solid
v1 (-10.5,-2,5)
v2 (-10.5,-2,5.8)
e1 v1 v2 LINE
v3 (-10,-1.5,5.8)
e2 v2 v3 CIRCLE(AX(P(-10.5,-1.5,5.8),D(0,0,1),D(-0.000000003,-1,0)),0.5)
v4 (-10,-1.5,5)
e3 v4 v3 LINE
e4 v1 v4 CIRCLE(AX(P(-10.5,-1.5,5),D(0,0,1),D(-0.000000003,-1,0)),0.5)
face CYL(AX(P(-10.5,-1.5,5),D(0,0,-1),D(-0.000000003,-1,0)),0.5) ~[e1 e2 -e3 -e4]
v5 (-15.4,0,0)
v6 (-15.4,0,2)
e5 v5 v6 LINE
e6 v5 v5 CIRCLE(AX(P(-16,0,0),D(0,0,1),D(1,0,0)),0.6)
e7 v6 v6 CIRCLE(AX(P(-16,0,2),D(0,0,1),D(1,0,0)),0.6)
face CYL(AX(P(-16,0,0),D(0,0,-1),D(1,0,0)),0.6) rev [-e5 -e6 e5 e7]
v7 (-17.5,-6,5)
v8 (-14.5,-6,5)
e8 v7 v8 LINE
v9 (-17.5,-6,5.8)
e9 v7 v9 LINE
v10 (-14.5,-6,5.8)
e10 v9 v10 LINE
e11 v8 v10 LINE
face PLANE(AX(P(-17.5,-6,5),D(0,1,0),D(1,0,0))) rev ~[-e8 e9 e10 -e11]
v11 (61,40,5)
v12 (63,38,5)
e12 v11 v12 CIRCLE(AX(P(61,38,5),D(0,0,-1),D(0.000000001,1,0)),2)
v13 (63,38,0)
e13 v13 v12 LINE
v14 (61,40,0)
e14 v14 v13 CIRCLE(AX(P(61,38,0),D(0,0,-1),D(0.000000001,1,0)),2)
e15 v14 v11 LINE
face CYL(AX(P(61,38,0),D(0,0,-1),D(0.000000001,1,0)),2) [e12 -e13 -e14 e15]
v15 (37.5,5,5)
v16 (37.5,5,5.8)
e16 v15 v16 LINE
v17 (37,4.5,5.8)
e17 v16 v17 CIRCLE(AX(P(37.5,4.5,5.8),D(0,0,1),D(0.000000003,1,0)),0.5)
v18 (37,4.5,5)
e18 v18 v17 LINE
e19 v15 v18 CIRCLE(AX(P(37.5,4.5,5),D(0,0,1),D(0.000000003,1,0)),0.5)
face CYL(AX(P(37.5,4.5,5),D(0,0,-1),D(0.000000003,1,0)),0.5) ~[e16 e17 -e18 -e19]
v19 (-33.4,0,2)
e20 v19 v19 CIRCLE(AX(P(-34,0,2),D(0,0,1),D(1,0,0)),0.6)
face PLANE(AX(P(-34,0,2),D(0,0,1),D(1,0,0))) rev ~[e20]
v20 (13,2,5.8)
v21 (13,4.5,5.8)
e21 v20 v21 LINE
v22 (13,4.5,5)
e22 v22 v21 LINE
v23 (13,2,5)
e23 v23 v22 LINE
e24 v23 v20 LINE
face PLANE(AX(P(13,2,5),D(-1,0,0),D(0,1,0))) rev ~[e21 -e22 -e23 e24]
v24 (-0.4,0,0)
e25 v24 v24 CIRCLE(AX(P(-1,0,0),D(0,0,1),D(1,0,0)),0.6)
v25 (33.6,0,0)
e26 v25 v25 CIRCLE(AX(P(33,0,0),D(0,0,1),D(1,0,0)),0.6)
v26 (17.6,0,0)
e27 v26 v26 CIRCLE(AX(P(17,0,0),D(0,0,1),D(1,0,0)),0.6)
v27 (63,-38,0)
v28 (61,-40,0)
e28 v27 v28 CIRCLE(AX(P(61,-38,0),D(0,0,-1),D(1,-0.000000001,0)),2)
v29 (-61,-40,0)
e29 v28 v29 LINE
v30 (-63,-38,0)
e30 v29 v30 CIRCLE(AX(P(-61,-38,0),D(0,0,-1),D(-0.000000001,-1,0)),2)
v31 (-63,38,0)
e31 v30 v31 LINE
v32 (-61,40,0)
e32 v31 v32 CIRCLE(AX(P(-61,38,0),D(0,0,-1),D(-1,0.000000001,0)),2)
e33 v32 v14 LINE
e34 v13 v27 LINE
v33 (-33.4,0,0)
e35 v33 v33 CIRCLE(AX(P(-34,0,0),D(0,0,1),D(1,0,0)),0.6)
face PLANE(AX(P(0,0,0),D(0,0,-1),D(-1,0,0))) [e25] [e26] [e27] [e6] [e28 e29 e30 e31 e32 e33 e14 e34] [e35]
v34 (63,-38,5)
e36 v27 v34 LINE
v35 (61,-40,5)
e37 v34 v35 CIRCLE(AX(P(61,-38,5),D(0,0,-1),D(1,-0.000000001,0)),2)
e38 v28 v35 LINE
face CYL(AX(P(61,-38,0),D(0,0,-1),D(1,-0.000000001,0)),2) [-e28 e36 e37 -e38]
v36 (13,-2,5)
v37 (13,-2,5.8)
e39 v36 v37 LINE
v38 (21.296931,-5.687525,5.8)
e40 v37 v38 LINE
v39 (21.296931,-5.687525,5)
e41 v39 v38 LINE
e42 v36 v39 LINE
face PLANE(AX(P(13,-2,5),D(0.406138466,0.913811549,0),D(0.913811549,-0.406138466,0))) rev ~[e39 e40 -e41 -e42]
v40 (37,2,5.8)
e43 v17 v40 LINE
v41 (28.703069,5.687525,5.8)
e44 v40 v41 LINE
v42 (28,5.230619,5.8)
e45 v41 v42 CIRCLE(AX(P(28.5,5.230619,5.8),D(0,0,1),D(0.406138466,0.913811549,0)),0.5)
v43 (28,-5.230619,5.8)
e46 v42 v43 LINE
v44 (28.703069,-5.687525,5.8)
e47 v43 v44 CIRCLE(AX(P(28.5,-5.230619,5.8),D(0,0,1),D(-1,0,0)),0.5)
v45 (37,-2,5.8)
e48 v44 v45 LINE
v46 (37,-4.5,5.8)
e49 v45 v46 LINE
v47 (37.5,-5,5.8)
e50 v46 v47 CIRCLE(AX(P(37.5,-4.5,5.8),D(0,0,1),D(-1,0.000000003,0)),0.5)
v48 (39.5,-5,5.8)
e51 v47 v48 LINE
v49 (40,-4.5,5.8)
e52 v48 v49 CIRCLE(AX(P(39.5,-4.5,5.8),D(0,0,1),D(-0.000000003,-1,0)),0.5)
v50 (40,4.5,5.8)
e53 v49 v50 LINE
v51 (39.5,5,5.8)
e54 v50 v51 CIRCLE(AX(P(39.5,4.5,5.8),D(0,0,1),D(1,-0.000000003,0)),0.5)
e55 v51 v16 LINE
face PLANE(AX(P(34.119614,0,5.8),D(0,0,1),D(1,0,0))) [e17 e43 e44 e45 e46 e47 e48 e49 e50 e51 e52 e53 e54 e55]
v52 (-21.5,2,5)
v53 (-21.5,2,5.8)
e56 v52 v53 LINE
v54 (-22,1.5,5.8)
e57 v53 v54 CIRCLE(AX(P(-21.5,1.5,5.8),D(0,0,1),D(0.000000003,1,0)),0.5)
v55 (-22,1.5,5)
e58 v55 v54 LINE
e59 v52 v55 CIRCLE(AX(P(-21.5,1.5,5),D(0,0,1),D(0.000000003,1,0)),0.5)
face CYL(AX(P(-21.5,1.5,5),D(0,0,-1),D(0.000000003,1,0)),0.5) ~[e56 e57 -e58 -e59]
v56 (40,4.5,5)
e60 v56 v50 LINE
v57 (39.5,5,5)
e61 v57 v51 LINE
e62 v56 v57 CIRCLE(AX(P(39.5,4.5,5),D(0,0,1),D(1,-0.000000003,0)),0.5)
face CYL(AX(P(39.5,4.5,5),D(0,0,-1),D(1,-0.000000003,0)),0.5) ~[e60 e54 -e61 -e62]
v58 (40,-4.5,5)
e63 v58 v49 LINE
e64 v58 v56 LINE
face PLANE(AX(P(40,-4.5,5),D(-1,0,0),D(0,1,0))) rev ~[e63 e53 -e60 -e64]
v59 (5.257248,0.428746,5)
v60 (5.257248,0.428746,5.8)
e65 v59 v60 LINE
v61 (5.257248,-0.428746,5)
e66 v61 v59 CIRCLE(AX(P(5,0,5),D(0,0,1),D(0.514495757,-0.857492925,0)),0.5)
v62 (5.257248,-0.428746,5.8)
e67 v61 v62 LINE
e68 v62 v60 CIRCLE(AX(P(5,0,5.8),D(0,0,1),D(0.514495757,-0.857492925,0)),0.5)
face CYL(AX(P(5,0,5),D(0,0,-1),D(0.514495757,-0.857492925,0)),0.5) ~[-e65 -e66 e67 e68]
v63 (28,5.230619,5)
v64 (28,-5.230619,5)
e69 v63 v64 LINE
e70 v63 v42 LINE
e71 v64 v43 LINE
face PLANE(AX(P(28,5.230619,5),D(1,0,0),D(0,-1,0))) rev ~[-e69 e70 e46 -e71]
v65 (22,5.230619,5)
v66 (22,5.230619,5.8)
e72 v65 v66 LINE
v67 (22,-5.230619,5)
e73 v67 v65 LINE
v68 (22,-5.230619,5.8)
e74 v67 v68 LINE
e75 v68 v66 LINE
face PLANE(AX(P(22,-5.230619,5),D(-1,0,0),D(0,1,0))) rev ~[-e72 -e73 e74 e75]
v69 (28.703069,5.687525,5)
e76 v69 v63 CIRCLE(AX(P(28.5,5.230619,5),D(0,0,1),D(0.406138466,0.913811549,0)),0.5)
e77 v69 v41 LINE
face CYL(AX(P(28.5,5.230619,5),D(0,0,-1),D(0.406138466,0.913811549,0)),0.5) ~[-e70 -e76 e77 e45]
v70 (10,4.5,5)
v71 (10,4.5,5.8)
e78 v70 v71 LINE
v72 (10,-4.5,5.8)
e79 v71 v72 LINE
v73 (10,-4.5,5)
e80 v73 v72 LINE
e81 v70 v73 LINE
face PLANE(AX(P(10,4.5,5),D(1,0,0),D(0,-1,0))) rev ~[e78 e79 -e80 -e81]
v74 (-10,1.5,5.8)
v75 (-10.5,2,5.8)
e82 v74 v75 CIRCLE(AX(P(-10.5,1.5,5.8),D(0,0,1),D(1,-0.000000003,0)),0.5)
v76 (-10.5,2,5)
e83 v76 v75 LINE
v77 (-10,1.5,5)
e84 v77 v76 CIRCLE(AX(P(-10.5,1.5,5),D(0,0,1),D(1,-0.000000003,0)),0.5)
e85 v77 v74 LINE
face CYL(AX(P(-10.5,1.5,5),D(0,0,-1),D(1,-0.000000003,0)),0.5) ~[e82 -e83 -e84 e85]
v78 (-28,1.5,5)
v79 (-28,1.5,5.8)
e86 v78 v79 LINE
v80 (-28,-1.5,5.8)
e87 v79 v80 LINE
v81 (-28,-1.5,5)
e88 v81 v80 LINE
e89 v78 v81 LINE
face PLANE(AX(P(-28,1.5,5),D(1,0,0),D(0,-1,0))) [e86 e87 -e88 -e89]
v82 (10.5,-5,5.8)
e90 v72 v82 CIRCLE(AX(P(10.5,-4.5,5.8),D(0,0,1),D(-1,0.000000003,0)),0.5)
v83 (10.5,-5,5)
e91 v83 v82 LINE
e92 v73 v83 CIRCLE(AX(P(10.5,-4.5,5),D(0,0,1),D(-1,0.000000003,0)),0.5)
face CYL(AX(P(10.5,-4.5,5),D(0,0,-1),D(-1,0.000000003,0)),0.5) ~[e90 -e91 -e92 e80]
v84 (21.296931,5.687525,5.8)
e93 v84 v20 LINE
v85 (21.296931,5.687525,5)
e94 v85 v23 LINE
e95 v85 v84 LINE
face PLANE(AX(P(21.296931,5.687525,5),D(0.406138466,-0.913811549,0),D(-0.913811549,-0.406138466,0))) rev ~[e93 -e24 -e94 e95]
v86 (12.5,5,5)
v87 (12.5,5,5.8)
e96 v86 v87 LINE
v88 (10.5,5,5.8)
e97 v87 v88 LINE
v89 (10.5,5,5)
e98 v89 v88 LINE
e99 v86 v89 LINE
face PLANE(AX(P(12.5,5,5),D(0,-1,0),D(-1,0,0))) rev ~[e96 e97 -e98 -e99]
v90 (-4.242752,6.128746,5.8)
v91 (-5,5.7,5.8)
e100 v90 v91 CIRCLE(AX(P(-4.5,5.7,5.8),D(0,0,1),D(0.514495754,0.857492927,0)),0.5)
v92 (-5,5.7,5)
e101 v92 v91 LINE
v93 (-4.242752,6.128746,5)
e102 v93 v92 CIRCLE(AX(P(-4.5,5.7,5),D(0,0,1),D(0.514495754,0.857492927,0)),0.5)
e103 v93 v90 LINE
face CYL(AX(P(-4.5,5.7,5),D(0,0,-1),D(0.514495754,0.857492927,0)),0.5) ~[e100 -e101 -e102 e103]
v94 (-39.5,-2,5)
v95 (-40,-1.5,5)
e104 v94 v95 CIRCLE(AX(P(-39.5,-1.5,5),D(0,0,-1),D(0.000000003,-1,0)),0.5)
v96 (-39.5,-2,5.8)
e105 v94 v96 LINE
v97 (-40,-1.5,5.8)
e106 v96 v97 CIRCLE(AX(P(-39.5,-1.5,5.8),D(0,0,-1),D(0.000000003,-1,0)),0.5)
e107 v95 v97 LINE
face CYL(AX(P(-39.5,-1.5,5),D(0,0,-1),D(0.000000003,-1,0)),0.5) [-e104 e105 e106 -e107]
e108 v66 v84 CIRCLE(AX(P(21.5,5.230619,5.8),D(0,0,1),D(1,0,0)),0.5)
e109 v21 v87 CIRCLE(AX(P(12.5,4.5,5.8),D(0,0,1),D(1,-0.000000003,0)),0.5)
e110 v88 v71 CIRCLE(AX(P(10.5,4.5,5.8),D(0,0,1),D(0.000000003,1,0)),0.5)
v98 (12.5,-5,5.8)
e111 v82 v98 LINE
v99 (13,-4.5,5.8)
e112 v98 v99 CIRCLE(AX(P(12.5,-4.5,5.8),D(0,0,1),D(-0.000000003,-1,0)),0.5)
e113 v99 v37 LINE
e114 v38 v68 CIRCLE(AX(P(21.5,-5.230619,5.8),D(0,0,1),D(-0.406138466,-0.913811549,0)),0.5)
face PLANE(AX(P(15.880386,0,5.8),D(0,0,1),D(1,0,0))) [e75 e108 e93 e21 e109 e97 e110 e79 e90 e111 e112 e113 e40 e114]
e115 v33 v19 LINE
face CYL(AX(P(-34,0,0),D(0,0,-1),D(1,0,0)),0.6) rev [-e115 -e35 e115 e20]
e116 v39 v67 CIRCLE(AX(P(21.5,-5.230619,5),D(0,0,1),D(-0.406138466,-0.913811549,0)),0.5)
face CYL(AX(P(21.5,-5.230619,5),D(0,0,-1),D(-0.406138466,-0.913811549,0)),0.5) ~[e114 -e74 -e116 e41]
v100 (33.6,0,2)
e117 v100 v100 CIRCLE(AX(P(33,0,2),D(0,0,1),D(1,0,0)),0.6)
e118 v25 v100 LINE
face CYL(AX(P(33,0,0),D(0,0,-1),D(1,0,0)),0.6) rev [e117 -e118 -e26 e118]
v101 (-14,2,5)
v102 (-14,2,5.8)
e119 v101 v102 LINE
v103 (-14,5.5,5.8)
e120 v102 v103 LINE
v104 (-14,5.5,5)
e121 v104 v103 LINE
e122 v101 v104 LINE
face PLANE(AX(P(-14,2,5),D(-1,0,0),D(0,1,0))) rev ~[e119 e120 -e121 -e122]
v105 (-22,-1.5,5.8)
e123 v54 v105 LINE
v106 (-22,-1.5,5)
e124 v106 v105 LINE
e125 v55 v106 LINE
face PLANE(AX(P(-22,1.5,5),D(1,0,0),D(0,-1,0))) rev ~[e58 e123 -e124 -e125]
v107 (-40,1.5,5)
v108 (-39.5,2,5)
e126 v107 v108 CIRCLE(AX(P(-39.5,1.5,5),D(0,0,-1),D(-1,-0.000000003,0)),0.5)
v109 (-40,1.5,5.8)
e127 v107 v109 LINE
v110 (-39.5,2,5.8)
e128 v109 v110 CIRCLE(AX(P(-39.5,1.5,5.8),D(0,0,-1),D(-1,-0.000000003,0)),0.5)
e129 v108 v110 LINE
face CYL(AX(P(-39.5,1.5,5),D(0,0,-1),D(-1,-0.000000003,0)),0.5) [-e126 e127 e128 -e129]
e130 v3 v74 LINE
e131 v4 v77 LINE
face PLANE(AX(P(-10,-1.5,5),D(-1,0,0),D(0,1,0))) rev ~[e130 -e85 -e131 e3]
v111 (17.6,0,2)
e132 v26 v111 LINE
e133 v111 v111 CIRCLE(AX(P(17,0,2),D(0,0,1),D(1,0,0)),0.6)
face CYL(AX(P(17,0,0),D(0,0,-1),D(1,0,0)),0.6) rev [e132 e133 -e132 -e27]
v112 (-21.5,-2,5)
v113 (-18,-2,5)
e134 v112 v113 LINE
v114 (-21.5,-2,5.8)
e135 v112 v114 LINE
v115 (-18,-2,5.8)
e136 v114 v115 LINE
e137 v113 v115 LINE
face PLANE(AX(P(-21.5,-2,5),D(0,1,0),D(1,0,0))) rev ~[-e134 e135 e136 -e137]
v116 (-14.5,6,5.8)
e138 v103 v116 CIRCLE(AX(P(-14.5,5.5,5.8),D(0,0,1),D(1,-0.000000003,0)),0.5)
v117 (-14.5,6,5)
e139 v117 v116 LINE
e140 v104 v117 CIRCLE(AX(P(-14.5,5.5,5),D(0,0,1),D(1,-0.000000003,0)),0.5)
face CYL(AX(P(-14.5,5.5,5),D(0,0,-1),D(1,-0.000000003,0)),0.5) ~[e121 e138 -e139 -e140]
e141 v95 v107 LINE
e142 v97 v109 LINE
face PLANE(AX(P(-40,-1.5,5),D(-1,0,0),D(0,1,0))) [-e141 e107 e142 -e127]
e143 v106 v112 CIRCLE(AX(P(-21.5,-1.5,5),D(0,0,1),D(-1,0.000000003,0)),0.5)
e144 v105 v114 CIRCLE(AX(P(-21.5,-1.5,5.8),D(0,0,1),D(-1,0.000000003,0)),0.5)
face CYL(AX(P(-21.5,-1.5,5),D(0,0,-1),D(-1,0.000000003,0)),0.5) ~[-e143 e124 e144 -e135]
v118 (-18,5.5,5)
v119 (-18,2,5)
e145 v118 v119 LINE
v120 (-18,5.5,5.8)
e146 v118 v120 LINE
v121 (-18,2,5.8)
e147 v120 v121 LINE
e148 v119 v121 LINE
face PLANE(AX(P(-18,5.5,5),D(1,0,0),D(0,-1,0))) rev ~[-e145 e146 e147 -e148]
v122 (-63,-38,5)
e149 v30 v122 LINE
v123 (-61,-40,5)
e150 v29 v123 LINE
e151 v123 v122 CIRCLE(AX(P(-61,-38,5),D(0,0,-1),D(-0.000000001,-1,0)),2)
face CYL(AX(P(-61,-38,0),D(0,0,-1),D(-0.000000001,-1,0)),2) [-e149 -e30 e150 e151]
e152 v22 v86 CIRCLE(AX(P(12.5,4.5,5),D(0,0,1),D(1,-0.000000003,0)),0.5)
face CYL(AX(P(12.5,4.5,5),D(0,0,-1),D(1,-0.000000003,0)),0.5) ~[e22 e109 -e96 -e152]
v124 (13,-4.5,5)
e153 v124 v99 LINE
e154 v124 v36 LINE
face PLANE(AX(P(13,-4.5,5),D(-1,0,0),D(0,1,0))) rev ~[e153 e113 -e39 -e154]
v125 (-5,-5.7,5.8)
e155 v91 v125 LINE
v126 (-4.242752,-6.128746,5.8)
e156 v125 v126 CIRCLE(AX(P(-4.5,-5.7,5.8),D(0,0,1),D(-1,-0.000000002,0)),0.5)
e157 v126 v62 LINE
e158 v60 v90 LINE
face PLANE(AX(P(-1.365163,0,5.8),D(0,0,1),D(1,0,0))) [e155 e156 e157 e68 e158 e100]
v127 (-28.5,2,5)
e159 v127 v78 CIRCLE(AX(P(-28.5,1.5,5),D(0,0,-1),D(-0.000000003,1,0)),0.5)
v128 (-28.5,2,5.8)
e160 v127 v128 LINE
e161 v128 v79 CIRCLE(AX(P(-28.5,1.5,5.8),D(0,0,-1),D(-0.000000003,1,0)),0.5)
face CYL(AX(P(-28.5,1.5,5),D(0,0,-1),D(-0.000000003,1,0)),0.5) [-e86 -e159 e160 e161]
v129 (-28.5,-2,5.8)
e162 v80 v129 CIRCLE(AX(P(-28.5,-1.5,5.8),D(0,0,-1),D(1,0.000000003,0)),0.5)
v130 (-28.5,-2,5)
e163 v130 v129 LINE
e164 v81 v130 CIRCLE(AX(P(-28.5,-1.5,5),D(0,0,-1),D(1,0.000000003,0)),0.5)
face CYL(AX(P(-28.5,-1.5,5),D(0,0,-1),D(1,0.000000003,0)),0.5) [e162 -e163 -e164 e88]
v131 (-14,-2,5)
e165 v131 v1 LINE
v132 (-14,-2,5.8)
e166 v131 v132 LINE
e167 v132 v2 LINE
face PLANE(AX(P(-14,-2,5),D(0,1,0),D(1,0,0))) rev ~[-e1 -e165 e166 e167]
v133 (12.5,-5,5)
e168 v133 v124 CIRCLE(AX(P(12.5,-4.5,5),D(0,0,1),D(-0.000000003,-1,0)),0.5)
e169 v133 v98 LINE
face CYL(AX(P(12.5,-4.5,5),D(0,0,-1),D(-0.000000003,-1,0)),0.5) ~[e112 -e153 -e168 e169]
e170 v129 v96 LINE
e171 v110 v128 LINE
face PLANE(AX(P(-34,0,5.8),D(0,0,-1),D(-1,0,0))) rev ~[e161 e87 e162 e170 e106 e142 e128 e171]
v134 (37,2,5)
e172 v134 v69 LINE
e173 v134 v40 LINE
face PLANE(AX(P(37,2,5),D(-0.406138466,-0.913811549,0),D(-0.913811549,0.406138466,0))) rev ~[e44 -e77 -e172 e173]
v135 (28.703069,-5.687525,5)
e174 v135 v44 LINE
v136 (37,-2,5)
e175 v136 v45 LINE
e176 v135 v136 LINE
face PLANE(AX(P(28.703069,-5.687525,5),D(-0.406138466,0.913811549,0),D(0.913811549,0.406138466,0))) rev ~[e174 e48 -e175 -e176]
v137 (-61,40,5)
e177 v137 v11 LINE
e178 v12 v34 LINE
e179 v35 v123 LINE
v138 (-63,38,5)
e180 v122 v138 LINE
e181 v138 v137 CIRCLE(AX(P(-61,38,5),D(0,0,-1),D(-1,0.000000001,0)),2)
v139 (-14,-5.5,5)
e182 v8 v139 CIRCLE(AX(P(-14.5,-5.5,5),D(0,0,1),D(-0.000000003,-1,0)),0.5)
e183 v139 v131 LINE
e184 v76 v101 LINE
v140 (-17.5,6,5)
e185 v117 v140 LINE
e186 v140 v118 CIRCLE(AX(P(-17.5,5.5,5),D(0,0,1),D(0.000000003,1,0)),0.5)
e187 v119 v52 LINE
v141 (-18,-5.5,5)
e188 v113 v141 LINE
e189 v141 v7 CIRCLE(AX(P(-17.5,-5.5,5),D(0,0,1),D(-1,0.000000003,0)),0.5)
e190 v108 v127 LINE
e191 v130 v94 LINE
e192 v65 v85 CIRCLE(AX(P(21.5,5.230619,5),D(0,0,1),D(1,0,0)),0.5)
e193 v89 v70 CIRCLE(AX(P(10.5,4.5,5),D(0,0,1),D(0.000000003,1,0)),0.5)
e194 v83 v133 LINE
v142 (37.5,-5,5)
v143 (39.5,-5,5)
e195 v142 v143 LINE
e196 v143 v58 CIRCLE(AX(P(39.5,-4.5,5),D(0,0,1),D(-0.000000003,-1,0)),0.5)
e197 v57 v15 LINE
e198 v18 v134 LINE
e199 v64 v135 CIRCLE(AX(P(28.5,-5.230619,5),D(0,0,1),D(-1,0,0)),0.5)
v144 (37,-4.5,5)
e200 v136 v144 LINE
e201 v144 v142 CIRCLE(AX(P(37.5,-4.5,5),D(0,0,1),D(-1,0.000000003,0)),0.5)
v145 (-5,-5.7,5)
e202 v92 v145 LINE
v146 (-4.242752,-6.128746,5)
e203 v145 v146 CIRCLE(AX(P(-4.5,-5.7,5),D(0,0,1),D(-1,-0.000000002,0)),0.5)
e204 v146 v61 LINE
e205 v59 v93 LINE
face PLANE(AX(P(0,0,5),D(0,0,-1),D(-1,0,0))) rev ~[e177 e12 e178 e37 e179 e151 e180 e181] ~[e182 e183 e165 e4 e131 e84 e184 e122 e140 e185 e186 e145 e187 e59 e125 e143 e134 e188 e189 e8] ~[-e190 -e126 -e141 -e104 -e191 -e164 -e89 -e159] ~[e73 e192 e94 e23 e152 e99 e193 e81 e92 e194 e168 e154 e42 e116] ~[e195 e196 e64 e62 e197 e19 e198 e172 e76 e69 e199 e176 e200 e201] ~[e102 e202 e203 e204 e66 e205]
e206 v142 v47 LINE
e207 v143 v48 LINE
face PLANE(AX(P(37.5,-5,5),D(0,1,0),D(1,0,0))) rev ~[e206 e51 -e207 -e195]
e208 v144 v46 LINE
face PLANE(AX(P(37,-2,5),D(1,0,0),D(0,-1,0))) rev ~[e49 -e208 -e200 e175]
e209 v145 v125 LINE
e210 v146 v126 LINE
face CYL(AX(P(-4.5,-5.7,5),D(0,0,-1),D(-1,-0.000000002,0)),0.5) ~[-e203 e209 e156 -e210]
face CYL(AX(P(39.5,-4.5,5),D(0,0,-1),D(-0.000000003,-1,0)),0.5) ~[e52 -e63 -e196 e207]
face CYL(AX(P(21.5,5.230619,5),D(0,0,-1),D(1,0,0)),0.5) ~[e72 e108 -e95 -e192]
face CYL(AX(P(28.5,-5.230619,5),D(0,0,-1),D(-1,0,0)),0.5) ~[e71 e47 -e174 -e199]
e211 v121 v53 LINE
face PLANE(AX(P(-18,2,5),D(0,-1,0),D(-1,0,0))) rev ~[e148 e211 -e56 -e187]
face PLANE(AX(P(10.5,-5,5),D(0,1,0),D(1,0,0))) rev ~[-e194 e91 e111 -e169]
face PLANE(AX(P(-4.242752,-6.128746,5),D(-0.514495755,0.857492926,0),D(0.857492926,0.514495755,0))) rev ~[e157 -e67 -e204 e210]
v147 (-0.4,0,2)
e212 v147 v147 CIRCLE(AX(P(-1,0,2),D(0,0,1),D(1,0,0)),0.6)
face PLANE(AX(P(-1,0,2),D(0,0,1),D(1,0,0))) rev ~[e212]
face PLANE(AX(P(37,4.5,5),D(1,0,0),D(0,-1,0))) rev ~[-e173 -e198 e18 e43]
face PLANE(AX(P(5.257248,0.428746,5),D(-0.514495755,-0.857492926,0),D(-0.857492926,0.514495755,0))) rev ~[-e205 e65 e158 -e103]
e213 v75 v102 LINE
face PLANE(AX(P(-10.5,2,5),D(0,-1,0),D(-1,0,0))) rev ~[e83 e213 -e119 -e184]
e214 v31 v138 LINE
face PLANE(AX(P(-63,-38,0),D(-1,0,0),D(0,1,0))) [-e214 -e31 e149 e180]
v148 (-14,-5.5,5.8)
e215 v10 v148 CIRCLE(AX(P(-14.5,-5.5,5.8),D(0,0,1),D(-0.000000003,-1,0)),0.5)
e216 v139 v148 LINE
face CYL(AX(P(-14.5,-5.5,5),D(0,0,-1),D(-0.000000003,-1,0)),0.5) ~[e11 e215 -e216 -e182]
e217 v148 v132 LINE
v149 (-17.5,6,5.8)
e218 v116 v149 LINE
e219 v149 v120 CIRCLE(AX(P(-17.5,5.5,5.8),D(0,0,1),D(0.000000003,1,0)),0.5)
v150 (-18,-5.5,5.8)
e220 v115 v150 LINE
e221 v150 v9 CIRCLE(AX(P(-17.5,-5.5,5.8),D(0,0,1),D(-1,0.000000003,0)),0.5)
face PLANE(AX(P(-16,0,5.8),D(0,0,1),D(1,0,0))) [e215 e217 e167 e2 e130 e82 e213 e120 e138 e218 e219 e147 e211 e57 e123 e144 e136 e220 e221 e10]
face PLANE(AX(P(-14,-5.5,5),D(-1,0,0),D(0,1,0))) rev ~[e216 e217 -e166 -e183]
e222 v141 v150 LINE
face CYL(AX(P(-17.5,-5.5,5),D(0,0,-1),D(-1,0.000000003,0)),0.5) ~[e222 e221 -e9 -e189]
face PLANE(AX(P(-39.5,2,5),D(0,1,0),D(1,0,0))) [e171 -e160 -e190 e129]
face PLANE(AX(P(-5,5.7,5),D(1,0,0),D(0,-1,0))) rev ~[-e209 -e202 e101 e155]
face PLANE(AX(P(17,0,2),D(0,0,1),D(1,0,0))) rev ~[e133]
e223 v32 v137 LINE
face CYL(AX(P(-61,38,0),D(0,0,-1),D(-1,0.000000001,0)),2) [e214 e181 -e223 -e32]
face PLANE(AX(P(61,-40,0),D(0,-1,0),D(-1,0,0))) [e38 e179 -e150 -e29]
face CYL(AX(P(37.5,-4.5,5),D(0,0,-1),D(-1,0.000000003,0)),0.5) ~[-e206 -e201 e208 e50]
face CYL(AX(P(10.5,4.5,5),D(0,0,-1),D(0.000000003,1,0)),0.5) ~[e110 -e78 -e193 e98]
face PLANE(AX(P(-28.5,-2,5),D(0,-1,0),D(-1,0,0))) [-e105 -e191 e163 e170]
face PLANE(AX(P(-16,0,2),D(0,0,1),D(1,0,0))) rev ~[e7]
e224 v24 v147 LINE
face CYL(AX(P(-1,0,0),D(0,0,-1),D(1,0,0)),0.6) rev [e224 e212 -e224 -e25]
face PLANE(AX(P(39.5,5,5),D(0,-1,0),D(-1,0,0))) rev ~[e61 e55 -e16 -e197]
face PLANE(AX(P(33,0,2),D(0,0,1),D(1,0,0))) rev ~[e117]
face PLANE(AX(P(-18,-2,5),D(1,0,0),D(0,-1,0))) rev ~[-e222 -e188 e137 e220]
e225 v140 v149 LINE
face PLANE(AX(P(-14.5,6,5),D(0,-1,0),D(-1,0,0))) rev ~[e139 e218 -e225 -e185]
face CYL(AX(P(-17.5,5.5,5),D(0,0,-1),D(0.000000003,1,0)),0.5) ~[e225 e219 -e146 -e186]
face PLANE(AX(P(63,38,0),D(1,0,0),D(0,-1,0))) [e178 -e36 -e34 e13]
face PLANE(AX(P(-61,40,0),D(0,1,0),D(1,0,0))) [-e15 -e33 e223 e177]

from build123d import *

# Parameters (mm, degrees)
BOSS_EXTRUDE1_DEPTH = 5
BOSS_EXTRUDE2_DEPTH = 0.8
SKETCH22_R          = 0.6
CUT_EXTRUDE1_DEPTH  = 2


with BuildPart() as part:
    # Sketch1 → Boss-Extrude1 (new body)
    with BuildSketch(Plane.XY):
        with BuildLine():
            Line((-61, 40), (61, 40))
            ThreePointArc((61, 40), (62.414213562, 39.414213562), (63, 38))
            Line((63, 38), (63, -38))
            ThreePointArc((63, -38), (62.414213562, -39.414213562), (61, -40))
            Line((61, -40), (-61, -40))
            ThreePointArc((-61, -40), (-62.414213562, -39.414213562), (-63, -38))
            Line((-63, -38), (-63, 38))
            ThreePointArc((-63, 38), (-62.414213562, 39.414213562), (-61, 40))
        make_face()
    extrude(amount=BOSS_EXTRUDE1_DEPTH)

    # Sketch19 → Boss-Extrude2 (add)
    with BuildSketch(Plane.XY.offset(5)):
        with BuildLine():
            Line((-5, 5.7), (-5, -5.7))
            ThreePointArc((-5, -5.7), (-4.746349407, -6.135099953), (-4.242752122, -6.128746463))
            Line((-4.242752122, -6.128746463), (5.257247878, -0.428746463))
            ThreePointArc((5.257247878, -0.428746463), (5.5, 0), (5.257247878, 0.428746463))
            Line((5.257247878, 0.428746463), (-4.242752122, 6.128746463))
            ThreePointArc((-4.242752122, 6.128746463), (-4.746349407, 6.135099953), (-5, 5.7))
        make_face()
        with BuildLine():
            Line((-10, -1.5), (-10, 1.5))
            ThreePointArc((-10, 1.5), (-10.146446609, 1.853553391), (-10.5, 2))
            Line((-10.5, 2), (-14, 2))
            Line((-14, 2), (-14, 5.5))
            ThreePointArc((-14, 5.5), (-14.146446609, 5.853553391), (-14.5, 6))
            Line((-14.5, 6), (-17.5, 6))
            ThreePointArc((-17.5, 6), (-17.853553391, 5.853553391), (-18, 5.5))
            Line((-18, 5.5), (-18, 2))
            Line((-18, 2), (-21.5, 2))
            ThreePointArc((-21.5, 2), (-21.853553391, 1.853553391), (-22, 1.5))
            Line((-22, 1.5), (-22, -1.5))
            ThreePointArc((-22, -1.5), (-21.853553391, -1.853553391), (-21.5, -2))
            Line((-21.5, -2), (-18, -2))
            Line((-18, -2), (-18, -5.5))
            ThreePointArc((-18, -5.5), (-17.853553391, -5.853553391), (-17.5, -6))
            Line((-17.5, -6), (-14.5, -6))
            ThreePointArc((-14.5, -6), (-14.146446609, -5.853553391), (-14, -5.5))
            Line((-14, -5.5), (-14, -2))
            Line((-14, -2), (-10.5, -2))
            ThreePointArc((-10.5, -2), (-10.146446609, -1.853553391), (-10, -1.5))
        make_face()
        with BuildLine():
            Line((-28, 1.5), (-28, -1.5))
            ThreePointArc((-28, -1.5), (-28.146446609, -1.853553391), (-28.5, -2))
            Line((-28.5, -2), (-39.5, -2))
            ThreePointArc((-39.5, -2), (-39.853553391, -1.853553391), (-40, -1.5))
            Line((-40, -1.5), (-40, 1.5))
            ThreePointArc((-40, 1.5), (-39.853553391, 1.853553391), (-39.5, 2))
            Line((-39.5, 2), (-28.5, 2))
            ThreePointArc((-28.5, 2), (-28.146446609, 1.853553391), (-28, 1.5))
        make_face()
        with BuildLine():
            Line((10, 4.5), (10, -4.5))
            ThreePointArc((10, -4.5), (10.146446609, -4.853553391), (10.5, -5))
            Line((10.5, -5), (12.5, -5))
            ThreePointArc((12.5, -5), (12.853553391, -4.853553391), (13, -4.5))
            Line((13, -4.5), (13, -2))
            Line((13, -2), (21.296930767, -5.687524785))
            ThreePointArc((21.296930767, -5.687524785), (21.77245677, -5.64986513), (22, -5.230619011))
            Line((22, -5.230619011), (22, 5.230619011))
            ThreePointArc((22, 5.230619011), (21.77245677, 5.64986513), (21.296930767, 5.687524785))
            Line((21.296930767, 5.687524785), (13, 2))
            Line((13, 2), (13, 4.5))
            ThreePointArc((13, 4.5), (12.853553391, 4.853553391), (12.5, 5))
            Line((12.5, 5), (10.5, 5))
            ThreePointArc((10.5, 5), (10.146446609, 4.853553391), (10, 4.5))
        make_face()
        with BuildLine():
            Line((28, 5.230619011), (28, -5.230619011))
            ThreePointArc((28, -5.230619011), (28.22754323, -5.64986513), (28.703069233, -5.687524785))
            Line((28.703069233, -5.687524785), (37, -2))
            Line((37, -2), (37, -4.5))
            ThreePointArc((37, -4.5), (37.146446609, -4.853553391), (37.5, -5))
            Line((37.5, -5), (39.5, -5))
            ThreePointArc((39.5, -5), (39.853553391, -4.853553391), (40, -4.5))
            Line((40, -4.5), (40, 4.5))
            ThreePointArc((40, 4.5), (39.853553391, 4.853553391), (39.5, 5))
            Line((39.5, 5), (37.5, 5))
            ThreePointArc((37.5, 5), (37.146446609, 4.853553391), (37, 4.5))
            Line((37, 4.5), (37, 2))
            Line((37, 2), (28.703069233, 5.687524785))
            ThreePointArc((28.703069233, 5.687524785), (28.22754323, 5.64986513), (28, 5.230619011))
        make_face()
    extrude(amount=BOSS_EXTRUDE2_DEPTH)

    # Sketch22 → Cut-Extrude1 (cut)
    with BuildSketch(Plane.XY):
        with Locations((-34, 0)):
            Circle(SKETCH22_R)
        with Locations((-16, 0)):
            Circle(SKETCH22_R)
        with Locations((-1, 0)):
            Circle(SKETCH22_R)
        with Locations((17, 0)):
            Circle(SKETCH22_R)
        with Locations((33, 0)):
            Circle(SKETCH22_R)
    extrude(amount=CUT_EXTRUDE1_DEPTH, mode=Mode.SUBTRACT)


solid = part.part
